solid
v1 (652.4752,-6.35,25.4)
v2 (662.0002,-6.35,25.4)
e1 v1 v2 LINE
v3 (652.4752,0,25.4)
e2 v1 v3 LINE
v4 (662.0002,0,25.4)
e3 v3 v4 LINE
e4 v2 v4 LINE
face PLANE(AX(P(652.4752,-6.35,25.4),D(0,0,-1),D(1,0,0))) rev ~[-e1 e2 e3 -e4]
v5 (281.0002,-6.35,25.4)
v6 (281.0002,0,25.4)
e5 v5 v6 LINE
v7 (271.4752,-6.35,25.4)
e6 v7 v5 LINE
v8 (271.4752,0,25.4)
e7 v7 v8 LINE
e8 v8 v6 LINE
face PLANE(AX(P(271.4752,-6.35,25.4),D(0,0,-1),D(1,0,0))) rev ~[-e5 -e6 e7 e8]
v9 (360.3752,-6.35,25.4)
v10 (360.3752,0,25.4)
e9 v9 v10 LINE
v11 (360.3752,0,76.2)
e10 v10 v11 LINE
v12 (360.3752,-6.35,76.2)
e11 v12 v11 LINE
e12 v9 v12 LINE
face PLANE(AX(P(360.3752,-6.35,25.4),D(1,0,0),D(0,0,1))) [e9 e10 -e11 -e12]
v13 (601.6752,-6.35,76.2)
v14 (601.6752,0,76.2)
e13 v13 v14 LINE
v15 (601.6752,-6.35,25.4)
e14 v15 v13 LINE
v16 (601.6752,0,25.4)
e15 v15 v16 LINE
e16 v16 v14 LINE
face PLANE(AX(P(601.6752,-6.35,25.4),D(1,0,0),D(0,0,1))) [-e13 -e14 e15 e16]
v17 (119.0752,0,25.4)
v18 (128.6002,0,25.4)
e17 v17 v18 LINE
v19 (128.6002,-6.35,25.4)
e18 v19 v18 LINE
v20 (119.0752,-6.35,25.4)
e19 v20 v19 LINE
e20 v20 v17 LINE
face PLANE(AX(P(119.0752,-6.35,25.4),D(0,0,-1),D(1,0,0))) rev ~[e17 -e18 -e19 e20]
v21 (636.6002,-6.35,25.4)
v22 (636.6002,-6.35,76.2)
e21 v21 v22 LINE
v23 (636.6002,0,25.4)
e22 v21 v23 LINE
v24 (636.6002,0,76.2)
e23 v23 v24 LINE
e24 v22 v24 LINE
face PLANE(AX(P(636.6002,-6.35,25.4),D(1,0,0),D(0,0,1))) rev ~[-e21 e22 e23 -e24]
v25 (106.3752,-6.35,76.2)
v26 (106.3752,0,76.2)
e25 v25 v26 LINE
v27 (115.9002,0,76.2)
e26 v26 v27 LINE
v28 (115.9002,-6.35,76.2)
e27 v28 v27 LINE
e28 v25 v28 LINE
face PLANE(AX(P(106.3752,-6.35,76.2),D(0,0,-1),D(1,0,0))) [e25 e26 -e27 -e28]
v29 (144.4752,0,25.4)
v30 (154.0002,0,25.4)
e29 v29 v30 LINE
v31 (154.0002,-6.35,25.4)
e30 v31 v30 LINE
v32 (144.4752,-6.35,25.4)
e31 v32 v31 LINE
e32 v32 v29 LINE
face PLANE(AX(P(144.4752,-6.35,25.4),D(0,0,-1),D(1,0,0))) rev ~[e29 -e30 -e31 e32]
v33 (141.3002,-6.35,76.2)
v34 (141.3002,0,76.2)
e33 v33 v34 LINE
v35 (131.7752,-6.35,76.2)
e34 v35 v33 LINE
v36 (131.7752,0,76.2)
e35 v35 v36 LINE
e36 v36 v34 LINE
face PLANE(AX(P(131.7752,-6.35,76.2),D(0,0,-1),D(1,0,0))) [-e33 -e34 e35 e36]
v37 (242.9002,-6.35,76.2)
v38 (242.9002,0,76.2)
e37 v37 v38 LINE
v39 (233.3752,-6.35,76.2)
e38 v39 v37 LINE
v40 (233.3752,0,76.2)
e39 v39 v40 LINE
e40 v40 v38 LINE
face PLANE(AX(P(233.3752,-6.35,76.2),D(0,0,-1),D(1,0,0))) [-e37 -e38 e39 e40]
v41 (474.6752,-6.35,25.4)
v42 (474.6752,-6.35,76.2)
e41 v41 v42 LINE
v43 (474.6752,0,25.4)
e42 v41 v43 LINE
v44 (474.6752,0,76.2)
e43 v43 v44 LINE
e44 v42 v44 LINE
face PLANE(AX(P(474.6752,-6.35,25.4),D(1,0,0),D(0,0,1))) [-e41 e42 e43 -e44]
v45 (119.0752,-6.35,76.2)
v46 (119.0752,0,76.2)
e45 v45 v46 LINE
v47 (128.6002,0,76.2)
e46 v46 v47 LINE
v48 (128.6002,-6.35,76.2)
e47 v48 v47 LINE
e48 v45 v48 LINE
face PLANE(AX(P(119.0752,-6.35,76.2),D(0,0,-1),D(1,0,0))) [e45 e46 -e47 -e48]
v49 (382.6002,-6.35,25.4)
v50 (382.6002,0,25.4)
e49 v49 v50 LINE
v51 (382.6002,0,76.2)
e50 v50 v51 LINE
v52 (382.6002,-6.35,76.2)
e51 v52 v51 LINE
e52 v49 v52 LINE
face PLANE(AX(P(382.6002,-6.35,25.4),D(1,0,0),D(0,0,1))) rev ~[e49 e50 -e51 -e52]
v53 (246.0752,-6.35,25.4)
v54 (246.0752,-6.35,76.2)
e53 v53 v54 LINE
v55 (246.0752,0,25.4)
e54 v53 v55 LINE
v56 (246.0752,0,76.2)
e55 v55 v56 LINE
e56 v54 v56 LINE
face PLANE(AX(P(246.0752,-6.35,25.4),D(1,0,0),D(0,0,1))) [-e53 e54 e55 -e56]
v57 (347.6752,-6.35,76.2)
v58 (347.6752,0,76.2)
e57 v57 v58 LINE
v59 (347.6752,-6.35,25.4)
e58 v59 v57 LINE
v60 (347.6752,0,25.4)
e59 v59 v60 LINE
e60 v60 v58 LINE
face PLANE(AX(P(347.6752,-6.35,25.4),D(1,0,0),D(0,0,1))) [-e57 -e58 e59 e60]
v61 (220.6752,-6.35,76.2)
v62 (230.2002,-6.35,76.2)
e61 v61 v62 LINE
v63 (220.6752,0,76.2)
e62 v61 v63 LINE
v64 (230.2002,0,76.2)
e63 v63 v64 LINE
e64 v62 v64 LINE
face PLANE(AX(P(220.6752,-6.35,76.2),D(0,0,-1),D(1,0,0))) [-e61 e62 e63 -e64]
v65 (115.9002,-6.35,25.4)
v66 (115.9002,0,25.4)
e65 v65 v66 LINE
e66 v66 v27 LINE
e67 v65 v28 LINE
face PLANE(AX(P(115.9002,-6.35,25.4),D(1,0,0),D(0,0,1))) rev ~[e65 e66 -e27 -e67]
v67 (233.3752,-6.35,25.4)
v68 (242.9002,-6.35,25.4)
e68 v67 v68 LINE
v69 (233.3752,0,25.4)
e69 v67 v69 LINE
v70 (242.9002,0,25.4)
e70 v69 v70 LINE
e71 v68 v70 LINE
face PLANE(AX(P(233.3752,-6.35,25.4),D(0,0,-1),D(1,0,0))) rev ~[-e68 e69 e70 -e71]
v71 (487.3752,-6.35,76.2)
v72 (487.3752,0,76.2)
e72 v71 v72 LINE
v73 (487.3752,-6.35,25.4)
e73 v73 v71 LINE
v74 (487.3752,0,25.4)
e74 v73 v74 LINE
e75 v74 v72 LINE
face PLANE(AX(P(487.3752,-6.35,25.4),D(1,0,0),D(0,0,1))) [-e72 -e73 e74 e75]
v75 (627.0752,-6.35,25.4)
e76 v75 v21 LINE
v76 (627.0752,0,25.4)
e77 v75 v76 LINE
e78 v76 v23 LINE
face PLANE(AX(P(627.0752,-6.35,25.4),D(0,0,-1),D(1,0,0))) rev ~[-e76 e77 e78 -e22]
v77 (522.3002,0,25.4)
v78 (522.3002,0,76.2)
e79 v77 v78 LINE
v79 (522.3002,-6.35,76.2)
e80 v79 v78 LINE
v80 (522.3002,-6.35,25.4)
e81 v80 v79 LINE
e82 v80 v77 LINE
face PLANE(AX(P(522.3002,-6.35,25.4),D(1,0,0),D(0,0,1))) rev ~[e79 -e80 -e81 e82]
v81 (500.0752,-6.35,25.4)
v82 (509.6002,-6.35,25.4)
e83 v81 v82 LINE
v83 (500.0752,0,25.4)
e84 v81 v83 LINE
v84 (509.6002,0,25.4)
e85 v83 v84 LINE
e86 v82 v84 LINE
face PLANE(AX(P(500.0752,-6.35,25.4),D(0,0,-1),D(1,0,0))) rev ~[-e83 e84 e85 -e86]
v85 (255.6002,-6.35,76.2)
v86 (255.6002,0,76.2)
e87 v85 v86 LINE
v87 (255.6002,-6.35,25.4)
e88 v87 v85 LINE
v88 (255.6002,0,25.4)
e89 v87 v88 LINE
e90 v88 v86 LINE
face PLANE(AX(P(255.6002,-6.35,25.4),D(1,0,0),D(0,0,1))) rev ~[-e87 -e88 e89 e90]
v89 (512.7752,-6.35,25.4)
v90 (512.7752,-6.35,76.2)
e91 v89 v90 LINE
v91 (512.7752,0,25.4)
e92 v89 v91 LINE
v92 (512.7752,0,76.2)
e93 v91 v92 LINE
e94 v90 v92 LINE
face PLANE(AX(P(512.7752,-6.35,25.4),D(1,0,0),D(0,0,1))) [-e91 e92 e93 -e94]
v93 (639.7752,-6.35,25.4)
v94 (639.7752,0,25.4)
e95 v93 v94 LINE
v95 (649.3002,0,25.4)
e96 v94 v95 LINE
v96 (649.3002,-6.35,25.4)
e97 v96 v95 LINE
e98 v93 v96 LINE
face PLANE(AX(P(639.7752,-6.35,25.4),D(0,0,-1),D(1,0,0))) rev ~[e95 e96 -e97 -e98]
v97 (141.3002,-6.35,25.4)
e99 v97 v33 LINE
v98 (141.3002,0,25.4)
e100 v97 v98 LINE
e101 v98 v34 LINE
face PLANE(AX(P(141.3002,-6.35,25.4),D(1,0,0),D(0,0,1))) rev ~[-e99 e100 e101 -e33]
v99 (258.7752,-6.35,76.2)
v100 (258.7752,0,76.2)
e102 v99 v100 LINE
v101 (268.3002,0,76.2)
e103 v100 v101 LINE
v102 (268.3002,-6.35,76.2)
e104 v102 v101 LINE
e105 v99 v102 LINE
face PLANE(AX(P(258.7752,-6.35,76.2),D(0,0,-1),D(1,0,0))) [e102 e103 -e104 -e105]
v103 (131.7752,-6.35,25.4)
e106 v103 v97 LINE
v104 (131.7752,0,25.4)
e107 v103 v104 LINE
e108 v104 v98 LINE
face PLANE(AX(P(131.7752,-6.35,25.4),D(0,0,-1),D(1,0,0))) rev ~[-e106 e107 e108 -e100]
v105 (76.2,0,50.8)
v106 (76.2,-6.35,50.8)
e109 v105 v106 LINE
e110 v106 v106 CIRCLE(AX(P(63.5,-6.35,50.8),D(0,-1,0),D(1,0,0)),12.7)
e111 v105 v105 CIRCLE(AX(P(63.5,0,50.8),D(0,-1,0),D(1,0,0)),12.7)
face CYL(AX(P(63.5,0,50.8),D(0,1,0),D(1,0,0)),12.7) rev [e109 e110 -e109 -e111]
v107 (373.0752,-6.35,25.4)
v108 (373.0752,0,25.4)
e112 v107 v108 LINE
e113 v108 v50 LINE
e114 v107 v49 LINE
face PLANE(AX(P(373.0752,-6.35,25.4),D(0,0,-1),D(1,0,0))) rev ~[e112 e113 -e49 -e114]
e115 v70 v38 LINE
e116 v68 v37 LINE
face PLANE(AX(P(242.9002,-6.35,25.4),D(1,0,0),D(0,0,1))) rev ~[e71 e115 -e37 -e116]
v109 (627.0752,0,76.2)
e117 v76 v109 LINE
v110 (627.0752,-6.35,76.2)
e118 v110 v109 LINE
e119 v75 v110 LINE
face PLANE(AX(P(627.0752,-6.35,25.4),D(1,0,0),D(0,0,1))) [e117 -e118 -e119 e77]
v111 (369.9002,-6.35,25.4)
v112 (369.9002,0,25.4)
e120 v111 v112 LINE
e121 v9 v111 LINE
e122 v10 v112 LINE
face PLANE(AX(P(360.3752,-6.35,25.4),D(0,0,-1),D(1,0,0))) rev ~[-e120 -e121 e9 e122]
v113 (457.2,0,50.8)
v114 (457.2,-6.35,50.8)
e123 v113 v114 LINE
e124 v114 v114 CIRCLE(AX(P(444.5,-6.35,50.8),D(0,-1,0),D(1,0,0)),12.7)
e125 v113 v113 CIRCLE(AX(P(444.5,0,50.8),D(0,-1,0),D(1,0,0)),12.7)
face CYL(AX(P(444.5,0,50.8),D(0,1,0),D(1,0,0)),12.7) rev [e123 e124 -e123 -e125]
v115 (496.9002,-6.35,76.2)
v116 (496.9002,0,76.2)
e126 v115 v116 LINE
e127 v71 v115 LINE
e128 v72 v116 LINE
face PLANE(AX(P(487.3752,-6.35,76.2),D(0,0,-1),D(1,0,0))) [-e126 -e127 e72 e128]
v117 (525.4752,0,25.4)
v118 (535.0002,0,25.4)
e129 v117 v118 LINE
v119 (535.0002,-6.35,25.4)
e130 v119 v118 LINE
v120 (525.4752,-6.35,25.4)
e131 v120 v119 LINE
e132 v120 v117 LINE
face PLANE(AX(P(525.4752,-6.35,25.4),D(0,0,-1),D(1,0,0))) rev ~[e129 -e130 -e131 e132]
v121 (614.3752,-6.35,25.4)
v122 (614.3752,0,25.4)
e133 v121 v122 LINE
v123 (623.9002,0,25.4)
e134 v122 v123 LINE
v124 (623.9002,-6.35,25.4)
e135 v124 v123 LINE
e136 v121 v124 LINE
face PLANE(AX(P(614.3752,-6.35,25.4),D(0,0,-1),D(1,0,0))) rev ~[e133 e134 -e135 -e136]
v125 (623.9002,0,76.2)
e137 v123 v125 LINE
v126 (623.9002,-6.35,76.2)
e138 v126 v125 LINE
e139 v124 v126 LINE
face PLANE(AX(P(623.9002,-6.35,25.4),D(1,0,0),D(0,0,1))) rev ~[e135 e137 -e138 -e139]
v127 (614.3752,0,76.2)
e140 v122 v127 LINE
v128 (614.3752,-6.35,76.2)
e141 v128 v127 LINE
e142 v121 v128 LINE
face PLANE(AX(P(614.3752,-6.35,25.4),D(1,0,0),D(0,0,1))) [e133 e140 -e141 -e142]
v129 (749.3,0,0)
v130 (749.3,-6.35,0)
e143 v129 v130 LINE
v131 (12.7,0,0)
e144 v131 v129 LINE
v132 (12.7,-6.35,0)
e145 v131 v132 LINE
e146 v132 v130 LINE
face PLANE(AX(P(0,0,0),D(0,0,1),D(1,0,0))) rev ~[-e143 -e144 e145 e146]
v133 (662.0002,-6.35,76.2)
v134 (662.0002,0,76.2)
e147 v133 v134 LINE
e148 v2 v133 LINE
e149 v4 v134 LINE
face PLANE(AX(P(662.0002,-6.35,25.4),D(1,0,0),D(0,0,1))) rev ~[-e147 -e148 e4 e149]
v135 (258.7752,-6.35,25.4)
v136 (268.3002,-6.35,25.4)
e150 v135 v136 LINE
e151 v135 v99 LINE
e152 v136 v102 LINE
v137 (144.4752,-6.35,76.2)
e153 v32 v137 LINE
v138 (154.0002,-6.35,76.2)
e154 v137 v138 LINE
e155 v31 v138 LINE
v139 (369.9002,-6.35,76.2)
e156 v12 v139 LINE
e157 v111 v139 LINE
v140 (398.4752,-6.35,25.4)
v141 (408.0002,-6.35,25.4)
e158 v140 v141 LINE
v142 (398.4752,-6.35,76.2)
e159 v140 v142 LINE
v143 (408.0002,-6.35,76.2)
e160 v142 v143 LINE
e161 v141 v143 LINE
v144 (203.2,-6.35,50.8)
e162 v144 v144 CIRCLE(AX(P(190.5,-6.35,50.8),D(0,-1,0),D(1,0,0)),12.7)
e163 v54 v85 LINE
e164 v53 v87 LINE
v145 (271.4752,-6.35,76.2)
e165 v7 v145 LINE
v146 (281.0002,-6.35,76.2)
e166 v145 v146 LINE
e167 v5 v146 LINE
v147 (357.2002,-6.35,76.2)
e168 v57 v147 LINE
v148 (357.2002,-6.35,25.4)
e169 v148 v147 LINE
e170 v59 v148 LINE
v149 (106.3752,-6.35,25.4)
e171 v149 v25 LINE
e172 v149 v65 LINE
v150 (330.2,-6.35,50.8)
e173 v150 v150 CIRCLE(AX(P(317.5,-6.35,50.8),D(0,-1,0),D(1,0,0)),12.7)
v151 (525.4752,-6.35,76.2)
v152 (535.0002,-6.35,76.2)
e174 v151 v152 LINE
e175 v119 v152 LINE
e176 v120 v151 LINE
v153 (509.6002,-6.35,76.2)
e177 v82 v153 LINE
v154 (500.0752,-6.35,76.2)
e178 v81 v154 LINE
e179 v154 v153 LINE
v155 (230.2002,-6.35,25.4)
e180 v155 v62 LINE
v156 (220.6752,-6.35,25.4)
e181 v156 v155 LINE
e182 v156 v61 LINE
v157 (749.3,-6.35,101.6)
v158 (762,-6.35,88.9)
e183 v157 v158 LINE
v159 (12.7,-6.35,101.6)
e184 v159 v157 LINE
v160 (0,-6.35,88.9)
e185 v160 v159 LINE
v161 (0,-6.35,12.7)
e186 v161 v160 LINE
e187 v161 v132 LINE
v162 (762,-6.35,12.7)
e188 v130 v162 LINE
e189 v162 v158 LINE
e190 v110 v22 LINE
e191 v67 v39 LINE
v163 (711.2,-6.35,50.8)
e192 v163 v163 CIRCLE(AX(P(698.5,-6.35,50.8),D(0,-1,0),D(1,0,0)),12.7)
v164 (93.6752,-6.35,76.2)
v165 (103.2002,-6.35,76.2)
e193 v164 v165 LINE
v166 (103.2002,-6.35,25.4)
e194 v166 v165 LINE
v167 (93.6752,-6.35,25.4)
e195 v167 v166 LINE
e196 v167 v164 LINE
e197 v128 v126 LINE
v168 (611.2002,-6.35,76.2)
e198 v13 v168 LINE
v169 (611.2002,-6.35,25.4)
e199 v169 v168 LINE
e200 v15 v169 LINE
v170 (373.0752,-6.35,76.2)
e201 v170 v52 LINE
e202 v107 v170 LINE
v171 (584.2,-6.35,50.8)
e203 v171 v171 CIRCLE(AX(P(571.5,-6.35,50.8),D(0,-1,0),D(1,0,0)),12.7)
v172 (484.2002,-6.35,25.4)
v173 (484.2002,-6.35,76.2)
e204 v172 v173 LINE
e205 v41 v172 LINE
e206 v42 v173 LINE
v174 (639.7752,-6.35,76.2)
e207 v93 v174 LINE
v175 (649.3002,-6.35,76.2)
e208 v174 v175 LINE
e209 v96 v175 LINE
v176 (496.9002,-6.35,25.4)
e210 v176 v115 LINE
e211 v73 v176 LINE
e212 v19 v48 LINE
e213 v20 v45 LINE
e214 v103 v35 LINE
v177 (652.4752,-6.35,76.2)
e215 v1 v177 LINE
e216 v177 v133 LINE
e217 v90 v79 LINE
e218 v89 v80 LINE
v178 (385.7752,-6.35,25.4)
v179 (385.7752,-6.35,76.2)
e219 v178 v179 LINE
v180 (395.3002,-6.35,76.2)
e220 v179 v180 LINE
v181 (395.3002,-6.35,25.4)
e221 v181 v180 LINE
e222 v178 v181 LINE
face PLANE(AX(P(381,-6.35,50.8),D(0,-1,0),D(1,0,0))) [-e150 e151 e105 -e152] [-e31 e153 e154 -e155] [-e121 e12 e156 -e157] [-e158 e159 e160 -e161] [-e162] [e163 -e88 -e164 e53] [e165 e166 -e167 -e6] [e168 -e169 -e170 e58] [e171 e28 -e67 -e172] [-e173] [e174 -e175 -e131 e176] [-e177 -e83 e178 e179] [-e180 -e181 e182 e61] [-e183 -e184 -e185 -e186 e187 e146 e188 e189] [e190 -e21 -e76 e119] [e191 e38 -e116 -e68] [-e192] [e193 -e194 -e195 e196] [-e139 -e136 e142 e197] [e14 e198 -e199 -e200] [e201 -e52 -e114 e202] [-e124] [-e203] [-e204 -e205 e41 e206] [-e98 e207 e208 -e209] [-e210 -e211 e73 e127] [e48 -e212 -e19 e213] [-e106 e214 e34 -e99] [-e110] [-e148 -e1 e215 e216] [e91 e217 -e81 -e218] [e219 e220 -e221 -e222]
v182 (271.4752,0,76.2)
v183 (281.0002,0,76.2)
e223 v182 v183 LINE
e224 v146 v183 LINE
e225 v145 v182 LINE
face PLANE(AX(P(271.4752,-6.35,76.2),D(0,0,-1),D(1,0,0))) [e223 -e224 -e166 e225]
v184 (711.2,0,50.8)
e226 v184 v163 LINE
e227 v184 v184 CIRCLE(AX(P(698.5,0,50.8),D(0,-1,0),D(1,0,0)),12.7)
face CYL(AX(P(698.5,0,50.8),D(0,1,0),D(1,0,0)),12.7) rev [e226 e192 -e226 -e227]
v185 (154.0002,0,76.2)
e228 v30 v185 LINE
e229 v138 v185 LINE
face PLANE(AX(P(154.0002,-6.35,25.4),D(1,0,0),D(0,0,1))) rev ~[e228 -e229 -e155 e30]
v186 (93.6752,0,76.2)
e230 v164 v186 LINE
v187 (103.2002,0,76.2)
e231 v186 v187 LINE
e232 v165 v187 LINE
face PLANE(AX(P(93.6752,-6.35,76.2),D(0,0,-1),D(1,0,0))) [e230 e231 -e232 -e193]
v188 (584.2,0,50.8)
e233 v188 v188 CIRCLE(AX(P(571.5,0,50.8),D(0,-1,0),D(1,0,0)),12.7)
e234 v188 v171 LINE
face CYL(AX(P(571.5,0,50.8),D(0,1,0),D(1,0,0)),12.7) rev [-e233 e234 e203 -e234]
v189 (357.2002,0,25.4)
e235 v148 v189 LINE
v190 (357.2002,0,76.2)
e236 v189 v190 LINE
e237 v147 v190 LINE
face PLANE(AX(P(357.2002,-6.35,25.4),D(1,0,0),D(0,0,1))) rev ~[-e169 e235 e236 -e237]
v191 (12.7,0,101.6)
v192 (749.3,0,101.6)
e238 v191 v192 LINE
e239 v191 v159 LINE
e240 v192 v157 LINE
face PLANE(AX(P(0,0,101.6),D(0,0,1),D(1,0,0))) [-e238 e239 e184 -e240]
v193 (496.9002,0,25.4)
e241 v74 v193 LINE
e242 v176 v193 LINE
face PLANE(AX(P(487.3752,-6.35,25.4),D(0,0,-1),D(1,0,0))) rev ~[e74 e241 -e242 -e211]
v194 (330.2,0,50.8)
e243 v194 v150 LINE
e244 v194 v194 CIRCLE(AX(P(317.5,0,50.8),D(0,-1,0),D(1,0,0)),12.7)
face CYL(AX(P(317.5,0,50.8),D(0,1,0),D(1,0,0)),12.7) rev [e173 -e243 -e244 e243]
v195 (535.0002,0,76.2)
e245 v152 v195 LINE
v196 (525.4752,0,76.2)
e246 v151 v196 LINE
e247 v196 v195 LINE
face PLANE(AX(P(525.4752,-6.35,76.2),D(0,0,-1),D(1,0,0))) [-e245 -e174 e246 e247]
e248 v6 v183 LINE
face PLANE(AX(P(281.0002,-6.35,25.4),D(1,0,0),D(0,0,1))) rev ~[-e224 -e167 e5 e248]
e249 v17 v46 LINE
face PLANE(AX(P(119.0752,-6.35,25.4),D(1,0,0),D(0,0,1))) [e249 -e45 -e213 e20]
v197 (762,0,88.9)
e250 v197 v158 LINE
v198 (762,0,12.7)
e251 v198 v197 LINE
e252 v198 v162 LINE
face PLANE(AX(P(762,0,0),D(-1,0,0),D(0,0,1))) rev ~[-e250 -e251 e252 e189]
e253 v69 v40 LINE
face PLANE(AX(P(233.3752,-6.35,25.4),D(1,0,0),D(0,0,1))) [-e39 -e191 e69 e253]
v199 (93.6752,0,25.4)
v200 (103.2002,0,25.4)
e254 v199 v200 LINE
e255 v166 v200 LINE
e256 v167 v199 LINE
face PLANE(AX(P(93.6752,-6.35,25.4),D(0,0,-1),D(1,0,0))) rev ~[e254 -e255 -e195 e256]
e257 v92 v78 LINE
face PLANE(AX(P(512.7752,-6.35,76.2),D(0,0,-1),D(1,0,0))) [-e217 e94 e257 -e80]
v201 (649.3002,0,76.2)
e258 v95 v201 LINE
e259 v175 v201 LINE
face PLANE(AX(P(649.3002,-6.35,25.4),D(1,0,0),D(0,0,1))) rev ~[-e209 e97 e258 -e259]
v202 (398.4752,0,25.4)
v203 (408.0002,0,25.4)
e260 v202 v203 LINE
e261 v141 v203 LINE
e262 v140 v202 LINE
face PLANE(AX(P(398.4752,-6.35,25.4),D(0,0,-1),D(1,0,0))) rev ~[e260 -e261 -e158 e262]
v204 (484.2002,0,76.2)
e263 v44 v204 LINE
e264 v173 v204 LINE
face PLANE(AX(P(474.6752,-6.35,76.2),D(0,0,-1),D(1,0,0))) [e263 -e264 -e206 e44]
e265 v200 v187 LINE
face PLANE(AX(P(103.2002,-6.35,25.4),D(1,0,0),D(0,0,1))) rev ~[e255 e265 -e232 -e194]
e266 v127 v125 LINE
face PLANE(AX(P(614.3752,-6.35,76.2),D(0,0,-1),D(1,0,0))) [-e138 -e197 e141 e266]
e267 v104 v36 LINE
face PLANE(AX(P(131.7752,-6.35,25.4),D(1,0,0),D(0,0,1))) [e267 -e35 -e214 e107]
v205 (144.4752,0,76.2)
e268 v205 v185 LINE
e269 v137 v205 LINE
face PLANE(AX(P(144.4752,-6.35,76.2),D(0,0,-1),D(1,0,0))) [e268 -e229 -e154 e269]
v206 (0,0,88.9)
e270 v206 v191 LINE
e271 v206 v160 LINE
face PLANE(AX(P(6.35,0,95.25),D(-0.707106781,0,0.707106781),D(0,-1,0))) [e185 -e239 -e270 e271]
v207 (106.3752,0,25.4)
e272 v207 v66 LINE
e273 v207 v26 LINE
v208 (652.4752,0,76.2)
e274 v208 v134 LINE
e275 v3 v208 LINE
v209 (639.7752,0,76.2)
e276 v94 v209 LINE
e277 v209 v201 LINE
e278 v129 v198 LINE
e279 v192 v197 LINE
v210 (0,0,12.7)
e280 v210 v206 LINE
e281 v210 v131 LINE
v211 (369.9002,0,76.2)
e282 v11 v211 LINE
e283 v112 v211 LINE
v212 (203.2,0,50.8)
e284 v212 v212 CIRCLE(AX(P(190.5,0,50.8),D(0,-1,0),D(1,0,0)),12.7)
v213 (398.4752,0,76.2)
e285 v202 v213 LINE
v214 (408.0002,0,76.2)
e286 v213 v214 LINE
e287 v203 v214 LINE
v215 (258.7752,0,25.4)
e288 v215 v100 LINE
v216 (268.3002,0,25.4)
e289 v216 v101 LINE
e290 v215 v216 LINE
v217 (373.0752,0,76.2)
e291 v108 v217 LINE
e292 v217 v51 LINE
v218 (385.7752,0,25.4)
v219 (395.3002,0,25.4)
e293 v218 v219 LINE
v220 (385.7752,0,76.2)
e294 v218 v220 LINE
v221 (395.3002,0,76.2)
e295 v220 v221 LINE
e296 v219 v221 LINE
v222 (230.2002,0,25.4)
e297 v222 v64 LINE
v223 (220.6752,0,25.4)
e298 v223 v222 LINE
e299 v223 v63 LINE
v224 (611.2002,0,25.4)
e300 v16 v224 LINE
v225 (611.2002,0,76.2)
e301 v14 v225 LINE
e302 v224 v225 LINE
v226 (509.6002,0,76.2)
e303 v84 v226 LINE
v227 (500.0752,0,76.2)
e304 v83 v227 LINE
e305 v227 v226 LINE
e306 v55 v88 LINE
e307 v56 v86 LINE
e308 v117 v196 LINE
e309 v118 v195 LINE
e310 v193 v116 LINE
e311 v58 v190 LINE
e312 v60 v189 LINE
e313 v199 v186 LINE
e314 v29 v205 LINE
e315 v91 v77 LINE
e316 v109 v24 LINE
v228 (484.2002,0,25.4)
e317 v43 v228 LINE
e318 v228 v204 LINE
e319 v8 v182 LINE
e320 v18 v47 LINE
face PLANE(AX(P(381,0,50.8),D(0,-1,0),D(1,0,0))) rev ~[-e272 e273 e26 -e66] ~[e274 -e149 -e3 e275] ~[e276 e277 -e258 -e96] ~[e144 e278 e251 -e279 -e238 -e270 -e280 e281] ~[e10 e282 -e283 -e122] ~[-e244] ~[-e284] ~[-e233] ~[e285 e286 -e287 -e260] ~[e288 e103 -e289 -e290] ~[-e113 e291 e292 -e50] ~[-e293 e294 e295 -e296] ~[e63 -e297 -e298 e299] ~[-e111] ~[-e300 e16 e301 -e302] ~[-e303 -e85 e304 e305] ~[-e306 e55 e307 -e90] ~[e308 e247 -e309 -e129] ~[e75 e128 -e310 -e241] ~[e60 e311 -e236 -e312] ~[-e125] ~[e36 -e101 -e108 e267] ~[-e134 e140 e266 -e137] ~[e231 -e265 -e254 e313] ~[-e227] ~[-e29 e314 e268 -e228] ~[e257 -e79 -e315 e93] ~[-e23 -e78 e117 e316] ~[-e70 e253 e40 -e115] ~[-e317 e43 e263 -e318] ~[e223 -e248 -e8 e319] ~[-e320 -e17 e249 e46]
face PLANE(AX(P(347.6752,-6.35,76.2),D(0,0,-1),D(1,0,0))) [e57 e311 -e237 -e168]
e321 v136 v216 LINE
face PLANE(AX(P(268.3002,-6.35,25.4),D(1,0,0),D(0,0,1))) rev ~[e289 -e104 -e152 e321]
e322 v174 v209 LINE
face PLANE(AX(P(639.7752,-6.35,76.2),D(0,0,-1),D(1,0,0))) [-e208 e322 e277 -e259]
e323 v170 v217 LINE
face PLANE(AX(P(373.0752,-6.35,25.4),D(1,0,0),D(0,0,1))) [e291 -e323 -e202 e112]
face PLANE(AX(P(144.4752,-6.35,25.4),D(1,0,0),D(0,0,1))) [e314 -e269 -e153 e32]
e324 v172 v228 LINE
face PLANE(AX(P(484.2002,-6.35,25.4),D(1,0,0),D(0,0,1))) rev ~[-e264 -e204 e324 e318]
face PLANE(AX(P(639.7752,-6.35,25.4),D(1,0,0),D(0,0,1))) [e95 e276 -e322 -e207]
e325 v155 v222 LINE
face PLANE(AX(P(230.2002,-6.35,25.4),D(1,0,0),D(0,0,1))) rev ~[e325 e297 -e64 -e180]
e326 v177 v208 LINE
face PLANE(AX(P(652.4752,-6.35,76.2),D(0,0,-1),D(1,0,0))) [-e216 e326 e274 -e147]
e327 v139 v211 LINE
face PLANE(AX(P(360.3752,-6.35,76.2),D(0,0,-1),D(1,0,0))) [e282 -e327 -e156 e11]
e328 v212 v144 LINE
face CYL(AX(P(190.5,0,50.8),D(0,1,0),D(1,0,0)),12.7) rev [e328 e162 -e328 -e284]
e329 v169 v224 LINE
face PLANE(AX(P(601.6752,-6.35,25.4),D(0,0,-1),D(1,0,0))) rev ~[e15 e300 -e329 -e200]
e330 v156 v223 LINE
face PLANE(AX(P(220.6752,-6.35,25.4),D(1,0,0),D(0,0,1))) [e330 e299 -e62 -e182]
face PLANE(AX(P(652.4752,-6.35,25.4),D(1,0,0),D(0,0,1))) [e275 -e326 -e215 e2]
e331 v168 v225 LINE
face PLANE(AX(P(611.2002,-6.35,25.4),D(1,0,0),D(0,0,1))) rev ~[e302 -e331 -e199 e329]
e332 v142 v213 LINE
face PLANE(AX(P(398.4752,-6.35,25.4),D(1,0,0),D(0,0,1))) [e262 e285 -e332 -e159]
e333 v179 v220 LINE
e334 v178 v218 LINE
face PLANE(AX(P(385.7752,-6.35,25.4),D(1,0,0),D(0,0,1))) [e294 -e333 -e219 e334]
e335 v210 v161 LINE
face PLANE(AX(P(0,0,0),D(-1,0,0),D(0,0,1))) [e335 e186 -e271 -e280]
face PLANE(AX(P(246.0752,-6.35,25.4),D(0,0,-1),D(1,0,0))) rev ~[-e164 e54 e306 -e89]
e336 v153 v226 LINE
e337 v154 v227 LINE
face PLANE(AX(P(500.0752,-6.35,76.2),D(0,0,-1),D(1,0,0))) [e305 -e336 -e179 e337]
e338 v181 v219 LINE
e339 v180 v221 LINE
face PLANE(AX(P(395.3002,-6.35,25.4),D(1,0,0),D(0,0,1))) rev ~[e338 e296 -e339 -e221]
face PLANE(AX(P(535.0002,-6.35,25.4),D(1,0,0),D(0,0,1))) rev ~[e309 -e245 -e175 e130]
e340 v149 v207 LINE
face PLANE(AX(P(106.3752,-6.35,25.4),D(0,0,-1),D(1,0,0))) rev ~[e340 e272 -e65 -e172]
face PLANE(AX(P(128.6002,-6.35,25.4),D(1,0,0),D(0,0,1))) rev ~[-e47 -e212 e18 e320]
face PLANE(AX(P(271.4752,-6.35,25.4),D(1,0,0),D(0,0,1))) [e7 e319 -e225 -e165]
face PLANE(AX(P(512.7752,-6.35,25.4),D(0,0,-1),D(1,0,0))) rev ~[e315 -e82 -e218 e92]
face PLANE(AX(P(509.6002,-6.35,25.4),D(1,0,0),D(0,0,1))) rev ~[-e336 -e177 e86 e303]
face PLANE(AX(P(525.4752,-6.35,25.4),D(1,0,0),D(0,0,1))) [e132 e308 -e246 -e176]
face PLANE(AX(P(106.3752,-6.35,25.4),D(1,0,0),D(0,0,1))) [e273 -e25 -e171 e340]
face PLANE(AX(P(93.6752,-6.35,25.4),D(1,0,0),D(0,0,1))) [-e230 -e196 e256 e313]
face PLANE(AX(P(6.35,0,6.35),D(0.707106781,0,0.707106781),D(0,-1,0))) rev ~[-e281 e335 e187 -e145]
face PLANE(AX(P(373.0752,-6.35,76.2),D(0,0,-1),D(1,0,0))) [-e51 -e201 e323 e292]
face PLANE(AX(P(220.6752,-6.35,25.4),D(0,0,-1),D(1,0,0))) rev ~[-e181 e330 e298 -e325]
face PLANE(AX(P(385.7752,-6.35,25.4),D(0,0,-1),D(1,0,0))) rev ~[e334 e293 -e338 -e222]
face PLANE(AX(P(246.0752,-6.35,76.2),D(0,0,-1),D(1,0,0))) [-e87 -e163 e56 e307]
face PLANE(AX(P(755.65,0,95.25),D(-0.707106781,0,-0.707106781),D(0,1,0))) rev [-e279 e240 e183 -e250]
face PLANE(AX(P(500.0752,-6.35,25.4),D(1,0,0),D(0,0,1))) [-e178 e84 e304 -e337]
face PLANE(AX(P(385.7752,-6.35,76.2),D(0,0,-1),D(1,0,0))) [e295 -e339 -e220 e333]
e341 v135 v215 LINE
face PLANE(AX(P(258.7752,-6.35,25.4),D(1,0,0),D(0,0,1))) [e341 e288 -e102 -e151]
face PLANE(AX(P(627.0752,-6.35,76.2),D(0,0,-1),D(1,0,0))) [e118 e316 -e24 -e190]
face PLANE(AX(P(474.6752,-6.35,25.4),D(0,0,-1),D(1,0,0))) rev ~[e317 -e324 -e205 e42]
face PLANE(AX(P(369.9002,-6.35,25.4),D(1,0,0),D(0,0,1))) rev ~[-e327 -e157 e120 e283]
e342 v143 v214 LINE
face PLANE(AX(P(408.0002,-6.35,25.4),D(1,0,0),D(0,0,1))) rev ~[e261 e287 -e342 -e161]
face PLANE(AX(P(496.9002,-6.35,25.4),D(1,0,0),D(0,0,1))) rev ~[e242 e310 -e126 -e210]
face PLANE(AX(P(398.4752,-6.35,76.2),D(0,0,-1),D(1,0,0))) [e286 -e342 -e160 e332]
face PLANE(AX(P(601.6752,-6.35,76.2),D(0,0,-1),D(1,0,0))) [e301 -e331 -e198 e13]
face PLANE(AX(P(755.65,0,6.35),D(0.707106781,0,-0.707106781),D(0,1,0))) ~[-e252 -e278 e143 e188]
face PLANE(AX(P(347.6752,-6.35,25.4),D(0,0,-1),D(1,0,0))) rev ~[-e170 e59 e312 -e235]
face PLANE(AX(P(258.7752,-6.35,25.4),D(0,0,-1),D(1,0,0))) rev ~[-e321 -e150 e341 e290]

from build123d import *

# Parameters (mm, degrees)
F0_W     = 762
F0_H     = 101.6
F0_R     = 12.7
F1_DEPTH = 6.35
F2_SIZE  = 12.7
F3_W     = 9.525
F3_H     = 50.8
F4_DEPTH = 6.351


with BuildPart() as f1:
    # F0 (on Front) → F1 (new body)
    with BuildSketch(Plane.XZ):
        with Locations((381, 50.8)):
            Rectangle(F0_W, F0_H)
        with Locations((63.5, 50.8)):
            Circle(F0_R, mode=Mode.SUBTRACT)
        with Locations((190.5, 50.8)):
            Circle(F0_R, mode=Mode.SUBTRACT)
        with Locations((317.5, 50.8)):
            Circle(F0_R, mode=Mode.SUBTRACT)
        with Locations((444.5, 50.8)):
            Circle(F0_R, mode=Mode.SUBTRACT)
        with Locations((571.5, 50.8)):
            Circle(F0_R, mode=Mode.SUBTRACT)
        with Locations((698.5, 50.8)):
            Circle(F0_R, mode=Mode.SUBTRACT)
    extrude(amount=F1_DEPTH)

    # F2
    f2_edges = [f1.edges().sort_by_distance(p)[0] for p in [
        (0, -3.175, 101.6),
        (0, -3.175, 0),
        (762, -3.175, 0),
        (762, -3.175, 101.6),
    ]]
    chamfer(f2_edges, length=F2_SIZE)

    # F3 (on face) → F4 (cut, through all)
    with BuildSketch(Plane.XZ.offset(6.35)):
        with Locations((98.4377, 50.8)):
            Rectangle(F3_W, F3_H)
        with Locations((111.1377, 50.8)):
            Rectangle(F3_W, F3_H)
        with Locations((123.8377, 50.8)):
            Rectangle(F3_W, F3_H)
        with Locations((136.5377, 50.8)):
            Rectangle(F3_W, F3_H)
        with Locations((149.2377, 50.8)):
            Rectangle(F3_W, F3_H)
        with Locations((225.4377, 50.8)):
            Rectangle(F3_W, F3_H)
        with Locations((238.1377, 50.8)):
            Rectangle(F3_W, F3_H)
        with Locations((250.8377, 50.8)):
            Rectangle(F3_W, F3_H)
        with Locations((263.5377, 50.8)):
            Rectangle(F3_W, F3_H)
        with Locations((276.2377, 50.8)):
            Rectangle(F3_W, F3_H)
        with Locations((352.4377, 50.8)):
            Rectangle(F3_W, F3_H)
        with Locations((365.1377, 50.8)):
            Rectangle(F3_W, F3_H)
        with Locations((377.8377, 50.8)):
            Rectangle(F3_W, F3_H)
        with Locations((390.5377, 50.8)):
            Rectangle(F3_W, F3_H)
        with Locations((403.2377, 50.8)):
            Rectangle(F3_W, F3_H)
        with Locations((479.4377, 50.8)):
            Rectangle(F3_W, F3_H)
        with Locations((492.1377, 50.8)):
            Rectangle(F3_W, F3_H)
        with Locations((504.8377, 50.8)):
            Rectangle(F3_W, F3_H)
        with Locations((517.5377, 50.8)):
            Rectangle(F3_W, F3_H)
        with Locations((530.2377, 50.8)):
            Rectangle(F3_W, F3_H)
        with Locations((606.4377, 50.8)):
            Rectangle(F3_W, F3_H)
        with Locations((619.1377, 50.8)):
            Rectangle(F3_W, F3_H)
        with Locations((631.8377, 50.8)):
            Rectangle(F3_W, F3_H)
        with Locations((644.5377, 50.8)):
            Rectangle(F3_W, F3_H)
        with Locations((657.2377, 50.8)):
            Rectangle(F3_W, F3_H)
    extrude(amount=-F4_DEPTH, mode=Mode.SUBTRACT)


solid = f1.part
